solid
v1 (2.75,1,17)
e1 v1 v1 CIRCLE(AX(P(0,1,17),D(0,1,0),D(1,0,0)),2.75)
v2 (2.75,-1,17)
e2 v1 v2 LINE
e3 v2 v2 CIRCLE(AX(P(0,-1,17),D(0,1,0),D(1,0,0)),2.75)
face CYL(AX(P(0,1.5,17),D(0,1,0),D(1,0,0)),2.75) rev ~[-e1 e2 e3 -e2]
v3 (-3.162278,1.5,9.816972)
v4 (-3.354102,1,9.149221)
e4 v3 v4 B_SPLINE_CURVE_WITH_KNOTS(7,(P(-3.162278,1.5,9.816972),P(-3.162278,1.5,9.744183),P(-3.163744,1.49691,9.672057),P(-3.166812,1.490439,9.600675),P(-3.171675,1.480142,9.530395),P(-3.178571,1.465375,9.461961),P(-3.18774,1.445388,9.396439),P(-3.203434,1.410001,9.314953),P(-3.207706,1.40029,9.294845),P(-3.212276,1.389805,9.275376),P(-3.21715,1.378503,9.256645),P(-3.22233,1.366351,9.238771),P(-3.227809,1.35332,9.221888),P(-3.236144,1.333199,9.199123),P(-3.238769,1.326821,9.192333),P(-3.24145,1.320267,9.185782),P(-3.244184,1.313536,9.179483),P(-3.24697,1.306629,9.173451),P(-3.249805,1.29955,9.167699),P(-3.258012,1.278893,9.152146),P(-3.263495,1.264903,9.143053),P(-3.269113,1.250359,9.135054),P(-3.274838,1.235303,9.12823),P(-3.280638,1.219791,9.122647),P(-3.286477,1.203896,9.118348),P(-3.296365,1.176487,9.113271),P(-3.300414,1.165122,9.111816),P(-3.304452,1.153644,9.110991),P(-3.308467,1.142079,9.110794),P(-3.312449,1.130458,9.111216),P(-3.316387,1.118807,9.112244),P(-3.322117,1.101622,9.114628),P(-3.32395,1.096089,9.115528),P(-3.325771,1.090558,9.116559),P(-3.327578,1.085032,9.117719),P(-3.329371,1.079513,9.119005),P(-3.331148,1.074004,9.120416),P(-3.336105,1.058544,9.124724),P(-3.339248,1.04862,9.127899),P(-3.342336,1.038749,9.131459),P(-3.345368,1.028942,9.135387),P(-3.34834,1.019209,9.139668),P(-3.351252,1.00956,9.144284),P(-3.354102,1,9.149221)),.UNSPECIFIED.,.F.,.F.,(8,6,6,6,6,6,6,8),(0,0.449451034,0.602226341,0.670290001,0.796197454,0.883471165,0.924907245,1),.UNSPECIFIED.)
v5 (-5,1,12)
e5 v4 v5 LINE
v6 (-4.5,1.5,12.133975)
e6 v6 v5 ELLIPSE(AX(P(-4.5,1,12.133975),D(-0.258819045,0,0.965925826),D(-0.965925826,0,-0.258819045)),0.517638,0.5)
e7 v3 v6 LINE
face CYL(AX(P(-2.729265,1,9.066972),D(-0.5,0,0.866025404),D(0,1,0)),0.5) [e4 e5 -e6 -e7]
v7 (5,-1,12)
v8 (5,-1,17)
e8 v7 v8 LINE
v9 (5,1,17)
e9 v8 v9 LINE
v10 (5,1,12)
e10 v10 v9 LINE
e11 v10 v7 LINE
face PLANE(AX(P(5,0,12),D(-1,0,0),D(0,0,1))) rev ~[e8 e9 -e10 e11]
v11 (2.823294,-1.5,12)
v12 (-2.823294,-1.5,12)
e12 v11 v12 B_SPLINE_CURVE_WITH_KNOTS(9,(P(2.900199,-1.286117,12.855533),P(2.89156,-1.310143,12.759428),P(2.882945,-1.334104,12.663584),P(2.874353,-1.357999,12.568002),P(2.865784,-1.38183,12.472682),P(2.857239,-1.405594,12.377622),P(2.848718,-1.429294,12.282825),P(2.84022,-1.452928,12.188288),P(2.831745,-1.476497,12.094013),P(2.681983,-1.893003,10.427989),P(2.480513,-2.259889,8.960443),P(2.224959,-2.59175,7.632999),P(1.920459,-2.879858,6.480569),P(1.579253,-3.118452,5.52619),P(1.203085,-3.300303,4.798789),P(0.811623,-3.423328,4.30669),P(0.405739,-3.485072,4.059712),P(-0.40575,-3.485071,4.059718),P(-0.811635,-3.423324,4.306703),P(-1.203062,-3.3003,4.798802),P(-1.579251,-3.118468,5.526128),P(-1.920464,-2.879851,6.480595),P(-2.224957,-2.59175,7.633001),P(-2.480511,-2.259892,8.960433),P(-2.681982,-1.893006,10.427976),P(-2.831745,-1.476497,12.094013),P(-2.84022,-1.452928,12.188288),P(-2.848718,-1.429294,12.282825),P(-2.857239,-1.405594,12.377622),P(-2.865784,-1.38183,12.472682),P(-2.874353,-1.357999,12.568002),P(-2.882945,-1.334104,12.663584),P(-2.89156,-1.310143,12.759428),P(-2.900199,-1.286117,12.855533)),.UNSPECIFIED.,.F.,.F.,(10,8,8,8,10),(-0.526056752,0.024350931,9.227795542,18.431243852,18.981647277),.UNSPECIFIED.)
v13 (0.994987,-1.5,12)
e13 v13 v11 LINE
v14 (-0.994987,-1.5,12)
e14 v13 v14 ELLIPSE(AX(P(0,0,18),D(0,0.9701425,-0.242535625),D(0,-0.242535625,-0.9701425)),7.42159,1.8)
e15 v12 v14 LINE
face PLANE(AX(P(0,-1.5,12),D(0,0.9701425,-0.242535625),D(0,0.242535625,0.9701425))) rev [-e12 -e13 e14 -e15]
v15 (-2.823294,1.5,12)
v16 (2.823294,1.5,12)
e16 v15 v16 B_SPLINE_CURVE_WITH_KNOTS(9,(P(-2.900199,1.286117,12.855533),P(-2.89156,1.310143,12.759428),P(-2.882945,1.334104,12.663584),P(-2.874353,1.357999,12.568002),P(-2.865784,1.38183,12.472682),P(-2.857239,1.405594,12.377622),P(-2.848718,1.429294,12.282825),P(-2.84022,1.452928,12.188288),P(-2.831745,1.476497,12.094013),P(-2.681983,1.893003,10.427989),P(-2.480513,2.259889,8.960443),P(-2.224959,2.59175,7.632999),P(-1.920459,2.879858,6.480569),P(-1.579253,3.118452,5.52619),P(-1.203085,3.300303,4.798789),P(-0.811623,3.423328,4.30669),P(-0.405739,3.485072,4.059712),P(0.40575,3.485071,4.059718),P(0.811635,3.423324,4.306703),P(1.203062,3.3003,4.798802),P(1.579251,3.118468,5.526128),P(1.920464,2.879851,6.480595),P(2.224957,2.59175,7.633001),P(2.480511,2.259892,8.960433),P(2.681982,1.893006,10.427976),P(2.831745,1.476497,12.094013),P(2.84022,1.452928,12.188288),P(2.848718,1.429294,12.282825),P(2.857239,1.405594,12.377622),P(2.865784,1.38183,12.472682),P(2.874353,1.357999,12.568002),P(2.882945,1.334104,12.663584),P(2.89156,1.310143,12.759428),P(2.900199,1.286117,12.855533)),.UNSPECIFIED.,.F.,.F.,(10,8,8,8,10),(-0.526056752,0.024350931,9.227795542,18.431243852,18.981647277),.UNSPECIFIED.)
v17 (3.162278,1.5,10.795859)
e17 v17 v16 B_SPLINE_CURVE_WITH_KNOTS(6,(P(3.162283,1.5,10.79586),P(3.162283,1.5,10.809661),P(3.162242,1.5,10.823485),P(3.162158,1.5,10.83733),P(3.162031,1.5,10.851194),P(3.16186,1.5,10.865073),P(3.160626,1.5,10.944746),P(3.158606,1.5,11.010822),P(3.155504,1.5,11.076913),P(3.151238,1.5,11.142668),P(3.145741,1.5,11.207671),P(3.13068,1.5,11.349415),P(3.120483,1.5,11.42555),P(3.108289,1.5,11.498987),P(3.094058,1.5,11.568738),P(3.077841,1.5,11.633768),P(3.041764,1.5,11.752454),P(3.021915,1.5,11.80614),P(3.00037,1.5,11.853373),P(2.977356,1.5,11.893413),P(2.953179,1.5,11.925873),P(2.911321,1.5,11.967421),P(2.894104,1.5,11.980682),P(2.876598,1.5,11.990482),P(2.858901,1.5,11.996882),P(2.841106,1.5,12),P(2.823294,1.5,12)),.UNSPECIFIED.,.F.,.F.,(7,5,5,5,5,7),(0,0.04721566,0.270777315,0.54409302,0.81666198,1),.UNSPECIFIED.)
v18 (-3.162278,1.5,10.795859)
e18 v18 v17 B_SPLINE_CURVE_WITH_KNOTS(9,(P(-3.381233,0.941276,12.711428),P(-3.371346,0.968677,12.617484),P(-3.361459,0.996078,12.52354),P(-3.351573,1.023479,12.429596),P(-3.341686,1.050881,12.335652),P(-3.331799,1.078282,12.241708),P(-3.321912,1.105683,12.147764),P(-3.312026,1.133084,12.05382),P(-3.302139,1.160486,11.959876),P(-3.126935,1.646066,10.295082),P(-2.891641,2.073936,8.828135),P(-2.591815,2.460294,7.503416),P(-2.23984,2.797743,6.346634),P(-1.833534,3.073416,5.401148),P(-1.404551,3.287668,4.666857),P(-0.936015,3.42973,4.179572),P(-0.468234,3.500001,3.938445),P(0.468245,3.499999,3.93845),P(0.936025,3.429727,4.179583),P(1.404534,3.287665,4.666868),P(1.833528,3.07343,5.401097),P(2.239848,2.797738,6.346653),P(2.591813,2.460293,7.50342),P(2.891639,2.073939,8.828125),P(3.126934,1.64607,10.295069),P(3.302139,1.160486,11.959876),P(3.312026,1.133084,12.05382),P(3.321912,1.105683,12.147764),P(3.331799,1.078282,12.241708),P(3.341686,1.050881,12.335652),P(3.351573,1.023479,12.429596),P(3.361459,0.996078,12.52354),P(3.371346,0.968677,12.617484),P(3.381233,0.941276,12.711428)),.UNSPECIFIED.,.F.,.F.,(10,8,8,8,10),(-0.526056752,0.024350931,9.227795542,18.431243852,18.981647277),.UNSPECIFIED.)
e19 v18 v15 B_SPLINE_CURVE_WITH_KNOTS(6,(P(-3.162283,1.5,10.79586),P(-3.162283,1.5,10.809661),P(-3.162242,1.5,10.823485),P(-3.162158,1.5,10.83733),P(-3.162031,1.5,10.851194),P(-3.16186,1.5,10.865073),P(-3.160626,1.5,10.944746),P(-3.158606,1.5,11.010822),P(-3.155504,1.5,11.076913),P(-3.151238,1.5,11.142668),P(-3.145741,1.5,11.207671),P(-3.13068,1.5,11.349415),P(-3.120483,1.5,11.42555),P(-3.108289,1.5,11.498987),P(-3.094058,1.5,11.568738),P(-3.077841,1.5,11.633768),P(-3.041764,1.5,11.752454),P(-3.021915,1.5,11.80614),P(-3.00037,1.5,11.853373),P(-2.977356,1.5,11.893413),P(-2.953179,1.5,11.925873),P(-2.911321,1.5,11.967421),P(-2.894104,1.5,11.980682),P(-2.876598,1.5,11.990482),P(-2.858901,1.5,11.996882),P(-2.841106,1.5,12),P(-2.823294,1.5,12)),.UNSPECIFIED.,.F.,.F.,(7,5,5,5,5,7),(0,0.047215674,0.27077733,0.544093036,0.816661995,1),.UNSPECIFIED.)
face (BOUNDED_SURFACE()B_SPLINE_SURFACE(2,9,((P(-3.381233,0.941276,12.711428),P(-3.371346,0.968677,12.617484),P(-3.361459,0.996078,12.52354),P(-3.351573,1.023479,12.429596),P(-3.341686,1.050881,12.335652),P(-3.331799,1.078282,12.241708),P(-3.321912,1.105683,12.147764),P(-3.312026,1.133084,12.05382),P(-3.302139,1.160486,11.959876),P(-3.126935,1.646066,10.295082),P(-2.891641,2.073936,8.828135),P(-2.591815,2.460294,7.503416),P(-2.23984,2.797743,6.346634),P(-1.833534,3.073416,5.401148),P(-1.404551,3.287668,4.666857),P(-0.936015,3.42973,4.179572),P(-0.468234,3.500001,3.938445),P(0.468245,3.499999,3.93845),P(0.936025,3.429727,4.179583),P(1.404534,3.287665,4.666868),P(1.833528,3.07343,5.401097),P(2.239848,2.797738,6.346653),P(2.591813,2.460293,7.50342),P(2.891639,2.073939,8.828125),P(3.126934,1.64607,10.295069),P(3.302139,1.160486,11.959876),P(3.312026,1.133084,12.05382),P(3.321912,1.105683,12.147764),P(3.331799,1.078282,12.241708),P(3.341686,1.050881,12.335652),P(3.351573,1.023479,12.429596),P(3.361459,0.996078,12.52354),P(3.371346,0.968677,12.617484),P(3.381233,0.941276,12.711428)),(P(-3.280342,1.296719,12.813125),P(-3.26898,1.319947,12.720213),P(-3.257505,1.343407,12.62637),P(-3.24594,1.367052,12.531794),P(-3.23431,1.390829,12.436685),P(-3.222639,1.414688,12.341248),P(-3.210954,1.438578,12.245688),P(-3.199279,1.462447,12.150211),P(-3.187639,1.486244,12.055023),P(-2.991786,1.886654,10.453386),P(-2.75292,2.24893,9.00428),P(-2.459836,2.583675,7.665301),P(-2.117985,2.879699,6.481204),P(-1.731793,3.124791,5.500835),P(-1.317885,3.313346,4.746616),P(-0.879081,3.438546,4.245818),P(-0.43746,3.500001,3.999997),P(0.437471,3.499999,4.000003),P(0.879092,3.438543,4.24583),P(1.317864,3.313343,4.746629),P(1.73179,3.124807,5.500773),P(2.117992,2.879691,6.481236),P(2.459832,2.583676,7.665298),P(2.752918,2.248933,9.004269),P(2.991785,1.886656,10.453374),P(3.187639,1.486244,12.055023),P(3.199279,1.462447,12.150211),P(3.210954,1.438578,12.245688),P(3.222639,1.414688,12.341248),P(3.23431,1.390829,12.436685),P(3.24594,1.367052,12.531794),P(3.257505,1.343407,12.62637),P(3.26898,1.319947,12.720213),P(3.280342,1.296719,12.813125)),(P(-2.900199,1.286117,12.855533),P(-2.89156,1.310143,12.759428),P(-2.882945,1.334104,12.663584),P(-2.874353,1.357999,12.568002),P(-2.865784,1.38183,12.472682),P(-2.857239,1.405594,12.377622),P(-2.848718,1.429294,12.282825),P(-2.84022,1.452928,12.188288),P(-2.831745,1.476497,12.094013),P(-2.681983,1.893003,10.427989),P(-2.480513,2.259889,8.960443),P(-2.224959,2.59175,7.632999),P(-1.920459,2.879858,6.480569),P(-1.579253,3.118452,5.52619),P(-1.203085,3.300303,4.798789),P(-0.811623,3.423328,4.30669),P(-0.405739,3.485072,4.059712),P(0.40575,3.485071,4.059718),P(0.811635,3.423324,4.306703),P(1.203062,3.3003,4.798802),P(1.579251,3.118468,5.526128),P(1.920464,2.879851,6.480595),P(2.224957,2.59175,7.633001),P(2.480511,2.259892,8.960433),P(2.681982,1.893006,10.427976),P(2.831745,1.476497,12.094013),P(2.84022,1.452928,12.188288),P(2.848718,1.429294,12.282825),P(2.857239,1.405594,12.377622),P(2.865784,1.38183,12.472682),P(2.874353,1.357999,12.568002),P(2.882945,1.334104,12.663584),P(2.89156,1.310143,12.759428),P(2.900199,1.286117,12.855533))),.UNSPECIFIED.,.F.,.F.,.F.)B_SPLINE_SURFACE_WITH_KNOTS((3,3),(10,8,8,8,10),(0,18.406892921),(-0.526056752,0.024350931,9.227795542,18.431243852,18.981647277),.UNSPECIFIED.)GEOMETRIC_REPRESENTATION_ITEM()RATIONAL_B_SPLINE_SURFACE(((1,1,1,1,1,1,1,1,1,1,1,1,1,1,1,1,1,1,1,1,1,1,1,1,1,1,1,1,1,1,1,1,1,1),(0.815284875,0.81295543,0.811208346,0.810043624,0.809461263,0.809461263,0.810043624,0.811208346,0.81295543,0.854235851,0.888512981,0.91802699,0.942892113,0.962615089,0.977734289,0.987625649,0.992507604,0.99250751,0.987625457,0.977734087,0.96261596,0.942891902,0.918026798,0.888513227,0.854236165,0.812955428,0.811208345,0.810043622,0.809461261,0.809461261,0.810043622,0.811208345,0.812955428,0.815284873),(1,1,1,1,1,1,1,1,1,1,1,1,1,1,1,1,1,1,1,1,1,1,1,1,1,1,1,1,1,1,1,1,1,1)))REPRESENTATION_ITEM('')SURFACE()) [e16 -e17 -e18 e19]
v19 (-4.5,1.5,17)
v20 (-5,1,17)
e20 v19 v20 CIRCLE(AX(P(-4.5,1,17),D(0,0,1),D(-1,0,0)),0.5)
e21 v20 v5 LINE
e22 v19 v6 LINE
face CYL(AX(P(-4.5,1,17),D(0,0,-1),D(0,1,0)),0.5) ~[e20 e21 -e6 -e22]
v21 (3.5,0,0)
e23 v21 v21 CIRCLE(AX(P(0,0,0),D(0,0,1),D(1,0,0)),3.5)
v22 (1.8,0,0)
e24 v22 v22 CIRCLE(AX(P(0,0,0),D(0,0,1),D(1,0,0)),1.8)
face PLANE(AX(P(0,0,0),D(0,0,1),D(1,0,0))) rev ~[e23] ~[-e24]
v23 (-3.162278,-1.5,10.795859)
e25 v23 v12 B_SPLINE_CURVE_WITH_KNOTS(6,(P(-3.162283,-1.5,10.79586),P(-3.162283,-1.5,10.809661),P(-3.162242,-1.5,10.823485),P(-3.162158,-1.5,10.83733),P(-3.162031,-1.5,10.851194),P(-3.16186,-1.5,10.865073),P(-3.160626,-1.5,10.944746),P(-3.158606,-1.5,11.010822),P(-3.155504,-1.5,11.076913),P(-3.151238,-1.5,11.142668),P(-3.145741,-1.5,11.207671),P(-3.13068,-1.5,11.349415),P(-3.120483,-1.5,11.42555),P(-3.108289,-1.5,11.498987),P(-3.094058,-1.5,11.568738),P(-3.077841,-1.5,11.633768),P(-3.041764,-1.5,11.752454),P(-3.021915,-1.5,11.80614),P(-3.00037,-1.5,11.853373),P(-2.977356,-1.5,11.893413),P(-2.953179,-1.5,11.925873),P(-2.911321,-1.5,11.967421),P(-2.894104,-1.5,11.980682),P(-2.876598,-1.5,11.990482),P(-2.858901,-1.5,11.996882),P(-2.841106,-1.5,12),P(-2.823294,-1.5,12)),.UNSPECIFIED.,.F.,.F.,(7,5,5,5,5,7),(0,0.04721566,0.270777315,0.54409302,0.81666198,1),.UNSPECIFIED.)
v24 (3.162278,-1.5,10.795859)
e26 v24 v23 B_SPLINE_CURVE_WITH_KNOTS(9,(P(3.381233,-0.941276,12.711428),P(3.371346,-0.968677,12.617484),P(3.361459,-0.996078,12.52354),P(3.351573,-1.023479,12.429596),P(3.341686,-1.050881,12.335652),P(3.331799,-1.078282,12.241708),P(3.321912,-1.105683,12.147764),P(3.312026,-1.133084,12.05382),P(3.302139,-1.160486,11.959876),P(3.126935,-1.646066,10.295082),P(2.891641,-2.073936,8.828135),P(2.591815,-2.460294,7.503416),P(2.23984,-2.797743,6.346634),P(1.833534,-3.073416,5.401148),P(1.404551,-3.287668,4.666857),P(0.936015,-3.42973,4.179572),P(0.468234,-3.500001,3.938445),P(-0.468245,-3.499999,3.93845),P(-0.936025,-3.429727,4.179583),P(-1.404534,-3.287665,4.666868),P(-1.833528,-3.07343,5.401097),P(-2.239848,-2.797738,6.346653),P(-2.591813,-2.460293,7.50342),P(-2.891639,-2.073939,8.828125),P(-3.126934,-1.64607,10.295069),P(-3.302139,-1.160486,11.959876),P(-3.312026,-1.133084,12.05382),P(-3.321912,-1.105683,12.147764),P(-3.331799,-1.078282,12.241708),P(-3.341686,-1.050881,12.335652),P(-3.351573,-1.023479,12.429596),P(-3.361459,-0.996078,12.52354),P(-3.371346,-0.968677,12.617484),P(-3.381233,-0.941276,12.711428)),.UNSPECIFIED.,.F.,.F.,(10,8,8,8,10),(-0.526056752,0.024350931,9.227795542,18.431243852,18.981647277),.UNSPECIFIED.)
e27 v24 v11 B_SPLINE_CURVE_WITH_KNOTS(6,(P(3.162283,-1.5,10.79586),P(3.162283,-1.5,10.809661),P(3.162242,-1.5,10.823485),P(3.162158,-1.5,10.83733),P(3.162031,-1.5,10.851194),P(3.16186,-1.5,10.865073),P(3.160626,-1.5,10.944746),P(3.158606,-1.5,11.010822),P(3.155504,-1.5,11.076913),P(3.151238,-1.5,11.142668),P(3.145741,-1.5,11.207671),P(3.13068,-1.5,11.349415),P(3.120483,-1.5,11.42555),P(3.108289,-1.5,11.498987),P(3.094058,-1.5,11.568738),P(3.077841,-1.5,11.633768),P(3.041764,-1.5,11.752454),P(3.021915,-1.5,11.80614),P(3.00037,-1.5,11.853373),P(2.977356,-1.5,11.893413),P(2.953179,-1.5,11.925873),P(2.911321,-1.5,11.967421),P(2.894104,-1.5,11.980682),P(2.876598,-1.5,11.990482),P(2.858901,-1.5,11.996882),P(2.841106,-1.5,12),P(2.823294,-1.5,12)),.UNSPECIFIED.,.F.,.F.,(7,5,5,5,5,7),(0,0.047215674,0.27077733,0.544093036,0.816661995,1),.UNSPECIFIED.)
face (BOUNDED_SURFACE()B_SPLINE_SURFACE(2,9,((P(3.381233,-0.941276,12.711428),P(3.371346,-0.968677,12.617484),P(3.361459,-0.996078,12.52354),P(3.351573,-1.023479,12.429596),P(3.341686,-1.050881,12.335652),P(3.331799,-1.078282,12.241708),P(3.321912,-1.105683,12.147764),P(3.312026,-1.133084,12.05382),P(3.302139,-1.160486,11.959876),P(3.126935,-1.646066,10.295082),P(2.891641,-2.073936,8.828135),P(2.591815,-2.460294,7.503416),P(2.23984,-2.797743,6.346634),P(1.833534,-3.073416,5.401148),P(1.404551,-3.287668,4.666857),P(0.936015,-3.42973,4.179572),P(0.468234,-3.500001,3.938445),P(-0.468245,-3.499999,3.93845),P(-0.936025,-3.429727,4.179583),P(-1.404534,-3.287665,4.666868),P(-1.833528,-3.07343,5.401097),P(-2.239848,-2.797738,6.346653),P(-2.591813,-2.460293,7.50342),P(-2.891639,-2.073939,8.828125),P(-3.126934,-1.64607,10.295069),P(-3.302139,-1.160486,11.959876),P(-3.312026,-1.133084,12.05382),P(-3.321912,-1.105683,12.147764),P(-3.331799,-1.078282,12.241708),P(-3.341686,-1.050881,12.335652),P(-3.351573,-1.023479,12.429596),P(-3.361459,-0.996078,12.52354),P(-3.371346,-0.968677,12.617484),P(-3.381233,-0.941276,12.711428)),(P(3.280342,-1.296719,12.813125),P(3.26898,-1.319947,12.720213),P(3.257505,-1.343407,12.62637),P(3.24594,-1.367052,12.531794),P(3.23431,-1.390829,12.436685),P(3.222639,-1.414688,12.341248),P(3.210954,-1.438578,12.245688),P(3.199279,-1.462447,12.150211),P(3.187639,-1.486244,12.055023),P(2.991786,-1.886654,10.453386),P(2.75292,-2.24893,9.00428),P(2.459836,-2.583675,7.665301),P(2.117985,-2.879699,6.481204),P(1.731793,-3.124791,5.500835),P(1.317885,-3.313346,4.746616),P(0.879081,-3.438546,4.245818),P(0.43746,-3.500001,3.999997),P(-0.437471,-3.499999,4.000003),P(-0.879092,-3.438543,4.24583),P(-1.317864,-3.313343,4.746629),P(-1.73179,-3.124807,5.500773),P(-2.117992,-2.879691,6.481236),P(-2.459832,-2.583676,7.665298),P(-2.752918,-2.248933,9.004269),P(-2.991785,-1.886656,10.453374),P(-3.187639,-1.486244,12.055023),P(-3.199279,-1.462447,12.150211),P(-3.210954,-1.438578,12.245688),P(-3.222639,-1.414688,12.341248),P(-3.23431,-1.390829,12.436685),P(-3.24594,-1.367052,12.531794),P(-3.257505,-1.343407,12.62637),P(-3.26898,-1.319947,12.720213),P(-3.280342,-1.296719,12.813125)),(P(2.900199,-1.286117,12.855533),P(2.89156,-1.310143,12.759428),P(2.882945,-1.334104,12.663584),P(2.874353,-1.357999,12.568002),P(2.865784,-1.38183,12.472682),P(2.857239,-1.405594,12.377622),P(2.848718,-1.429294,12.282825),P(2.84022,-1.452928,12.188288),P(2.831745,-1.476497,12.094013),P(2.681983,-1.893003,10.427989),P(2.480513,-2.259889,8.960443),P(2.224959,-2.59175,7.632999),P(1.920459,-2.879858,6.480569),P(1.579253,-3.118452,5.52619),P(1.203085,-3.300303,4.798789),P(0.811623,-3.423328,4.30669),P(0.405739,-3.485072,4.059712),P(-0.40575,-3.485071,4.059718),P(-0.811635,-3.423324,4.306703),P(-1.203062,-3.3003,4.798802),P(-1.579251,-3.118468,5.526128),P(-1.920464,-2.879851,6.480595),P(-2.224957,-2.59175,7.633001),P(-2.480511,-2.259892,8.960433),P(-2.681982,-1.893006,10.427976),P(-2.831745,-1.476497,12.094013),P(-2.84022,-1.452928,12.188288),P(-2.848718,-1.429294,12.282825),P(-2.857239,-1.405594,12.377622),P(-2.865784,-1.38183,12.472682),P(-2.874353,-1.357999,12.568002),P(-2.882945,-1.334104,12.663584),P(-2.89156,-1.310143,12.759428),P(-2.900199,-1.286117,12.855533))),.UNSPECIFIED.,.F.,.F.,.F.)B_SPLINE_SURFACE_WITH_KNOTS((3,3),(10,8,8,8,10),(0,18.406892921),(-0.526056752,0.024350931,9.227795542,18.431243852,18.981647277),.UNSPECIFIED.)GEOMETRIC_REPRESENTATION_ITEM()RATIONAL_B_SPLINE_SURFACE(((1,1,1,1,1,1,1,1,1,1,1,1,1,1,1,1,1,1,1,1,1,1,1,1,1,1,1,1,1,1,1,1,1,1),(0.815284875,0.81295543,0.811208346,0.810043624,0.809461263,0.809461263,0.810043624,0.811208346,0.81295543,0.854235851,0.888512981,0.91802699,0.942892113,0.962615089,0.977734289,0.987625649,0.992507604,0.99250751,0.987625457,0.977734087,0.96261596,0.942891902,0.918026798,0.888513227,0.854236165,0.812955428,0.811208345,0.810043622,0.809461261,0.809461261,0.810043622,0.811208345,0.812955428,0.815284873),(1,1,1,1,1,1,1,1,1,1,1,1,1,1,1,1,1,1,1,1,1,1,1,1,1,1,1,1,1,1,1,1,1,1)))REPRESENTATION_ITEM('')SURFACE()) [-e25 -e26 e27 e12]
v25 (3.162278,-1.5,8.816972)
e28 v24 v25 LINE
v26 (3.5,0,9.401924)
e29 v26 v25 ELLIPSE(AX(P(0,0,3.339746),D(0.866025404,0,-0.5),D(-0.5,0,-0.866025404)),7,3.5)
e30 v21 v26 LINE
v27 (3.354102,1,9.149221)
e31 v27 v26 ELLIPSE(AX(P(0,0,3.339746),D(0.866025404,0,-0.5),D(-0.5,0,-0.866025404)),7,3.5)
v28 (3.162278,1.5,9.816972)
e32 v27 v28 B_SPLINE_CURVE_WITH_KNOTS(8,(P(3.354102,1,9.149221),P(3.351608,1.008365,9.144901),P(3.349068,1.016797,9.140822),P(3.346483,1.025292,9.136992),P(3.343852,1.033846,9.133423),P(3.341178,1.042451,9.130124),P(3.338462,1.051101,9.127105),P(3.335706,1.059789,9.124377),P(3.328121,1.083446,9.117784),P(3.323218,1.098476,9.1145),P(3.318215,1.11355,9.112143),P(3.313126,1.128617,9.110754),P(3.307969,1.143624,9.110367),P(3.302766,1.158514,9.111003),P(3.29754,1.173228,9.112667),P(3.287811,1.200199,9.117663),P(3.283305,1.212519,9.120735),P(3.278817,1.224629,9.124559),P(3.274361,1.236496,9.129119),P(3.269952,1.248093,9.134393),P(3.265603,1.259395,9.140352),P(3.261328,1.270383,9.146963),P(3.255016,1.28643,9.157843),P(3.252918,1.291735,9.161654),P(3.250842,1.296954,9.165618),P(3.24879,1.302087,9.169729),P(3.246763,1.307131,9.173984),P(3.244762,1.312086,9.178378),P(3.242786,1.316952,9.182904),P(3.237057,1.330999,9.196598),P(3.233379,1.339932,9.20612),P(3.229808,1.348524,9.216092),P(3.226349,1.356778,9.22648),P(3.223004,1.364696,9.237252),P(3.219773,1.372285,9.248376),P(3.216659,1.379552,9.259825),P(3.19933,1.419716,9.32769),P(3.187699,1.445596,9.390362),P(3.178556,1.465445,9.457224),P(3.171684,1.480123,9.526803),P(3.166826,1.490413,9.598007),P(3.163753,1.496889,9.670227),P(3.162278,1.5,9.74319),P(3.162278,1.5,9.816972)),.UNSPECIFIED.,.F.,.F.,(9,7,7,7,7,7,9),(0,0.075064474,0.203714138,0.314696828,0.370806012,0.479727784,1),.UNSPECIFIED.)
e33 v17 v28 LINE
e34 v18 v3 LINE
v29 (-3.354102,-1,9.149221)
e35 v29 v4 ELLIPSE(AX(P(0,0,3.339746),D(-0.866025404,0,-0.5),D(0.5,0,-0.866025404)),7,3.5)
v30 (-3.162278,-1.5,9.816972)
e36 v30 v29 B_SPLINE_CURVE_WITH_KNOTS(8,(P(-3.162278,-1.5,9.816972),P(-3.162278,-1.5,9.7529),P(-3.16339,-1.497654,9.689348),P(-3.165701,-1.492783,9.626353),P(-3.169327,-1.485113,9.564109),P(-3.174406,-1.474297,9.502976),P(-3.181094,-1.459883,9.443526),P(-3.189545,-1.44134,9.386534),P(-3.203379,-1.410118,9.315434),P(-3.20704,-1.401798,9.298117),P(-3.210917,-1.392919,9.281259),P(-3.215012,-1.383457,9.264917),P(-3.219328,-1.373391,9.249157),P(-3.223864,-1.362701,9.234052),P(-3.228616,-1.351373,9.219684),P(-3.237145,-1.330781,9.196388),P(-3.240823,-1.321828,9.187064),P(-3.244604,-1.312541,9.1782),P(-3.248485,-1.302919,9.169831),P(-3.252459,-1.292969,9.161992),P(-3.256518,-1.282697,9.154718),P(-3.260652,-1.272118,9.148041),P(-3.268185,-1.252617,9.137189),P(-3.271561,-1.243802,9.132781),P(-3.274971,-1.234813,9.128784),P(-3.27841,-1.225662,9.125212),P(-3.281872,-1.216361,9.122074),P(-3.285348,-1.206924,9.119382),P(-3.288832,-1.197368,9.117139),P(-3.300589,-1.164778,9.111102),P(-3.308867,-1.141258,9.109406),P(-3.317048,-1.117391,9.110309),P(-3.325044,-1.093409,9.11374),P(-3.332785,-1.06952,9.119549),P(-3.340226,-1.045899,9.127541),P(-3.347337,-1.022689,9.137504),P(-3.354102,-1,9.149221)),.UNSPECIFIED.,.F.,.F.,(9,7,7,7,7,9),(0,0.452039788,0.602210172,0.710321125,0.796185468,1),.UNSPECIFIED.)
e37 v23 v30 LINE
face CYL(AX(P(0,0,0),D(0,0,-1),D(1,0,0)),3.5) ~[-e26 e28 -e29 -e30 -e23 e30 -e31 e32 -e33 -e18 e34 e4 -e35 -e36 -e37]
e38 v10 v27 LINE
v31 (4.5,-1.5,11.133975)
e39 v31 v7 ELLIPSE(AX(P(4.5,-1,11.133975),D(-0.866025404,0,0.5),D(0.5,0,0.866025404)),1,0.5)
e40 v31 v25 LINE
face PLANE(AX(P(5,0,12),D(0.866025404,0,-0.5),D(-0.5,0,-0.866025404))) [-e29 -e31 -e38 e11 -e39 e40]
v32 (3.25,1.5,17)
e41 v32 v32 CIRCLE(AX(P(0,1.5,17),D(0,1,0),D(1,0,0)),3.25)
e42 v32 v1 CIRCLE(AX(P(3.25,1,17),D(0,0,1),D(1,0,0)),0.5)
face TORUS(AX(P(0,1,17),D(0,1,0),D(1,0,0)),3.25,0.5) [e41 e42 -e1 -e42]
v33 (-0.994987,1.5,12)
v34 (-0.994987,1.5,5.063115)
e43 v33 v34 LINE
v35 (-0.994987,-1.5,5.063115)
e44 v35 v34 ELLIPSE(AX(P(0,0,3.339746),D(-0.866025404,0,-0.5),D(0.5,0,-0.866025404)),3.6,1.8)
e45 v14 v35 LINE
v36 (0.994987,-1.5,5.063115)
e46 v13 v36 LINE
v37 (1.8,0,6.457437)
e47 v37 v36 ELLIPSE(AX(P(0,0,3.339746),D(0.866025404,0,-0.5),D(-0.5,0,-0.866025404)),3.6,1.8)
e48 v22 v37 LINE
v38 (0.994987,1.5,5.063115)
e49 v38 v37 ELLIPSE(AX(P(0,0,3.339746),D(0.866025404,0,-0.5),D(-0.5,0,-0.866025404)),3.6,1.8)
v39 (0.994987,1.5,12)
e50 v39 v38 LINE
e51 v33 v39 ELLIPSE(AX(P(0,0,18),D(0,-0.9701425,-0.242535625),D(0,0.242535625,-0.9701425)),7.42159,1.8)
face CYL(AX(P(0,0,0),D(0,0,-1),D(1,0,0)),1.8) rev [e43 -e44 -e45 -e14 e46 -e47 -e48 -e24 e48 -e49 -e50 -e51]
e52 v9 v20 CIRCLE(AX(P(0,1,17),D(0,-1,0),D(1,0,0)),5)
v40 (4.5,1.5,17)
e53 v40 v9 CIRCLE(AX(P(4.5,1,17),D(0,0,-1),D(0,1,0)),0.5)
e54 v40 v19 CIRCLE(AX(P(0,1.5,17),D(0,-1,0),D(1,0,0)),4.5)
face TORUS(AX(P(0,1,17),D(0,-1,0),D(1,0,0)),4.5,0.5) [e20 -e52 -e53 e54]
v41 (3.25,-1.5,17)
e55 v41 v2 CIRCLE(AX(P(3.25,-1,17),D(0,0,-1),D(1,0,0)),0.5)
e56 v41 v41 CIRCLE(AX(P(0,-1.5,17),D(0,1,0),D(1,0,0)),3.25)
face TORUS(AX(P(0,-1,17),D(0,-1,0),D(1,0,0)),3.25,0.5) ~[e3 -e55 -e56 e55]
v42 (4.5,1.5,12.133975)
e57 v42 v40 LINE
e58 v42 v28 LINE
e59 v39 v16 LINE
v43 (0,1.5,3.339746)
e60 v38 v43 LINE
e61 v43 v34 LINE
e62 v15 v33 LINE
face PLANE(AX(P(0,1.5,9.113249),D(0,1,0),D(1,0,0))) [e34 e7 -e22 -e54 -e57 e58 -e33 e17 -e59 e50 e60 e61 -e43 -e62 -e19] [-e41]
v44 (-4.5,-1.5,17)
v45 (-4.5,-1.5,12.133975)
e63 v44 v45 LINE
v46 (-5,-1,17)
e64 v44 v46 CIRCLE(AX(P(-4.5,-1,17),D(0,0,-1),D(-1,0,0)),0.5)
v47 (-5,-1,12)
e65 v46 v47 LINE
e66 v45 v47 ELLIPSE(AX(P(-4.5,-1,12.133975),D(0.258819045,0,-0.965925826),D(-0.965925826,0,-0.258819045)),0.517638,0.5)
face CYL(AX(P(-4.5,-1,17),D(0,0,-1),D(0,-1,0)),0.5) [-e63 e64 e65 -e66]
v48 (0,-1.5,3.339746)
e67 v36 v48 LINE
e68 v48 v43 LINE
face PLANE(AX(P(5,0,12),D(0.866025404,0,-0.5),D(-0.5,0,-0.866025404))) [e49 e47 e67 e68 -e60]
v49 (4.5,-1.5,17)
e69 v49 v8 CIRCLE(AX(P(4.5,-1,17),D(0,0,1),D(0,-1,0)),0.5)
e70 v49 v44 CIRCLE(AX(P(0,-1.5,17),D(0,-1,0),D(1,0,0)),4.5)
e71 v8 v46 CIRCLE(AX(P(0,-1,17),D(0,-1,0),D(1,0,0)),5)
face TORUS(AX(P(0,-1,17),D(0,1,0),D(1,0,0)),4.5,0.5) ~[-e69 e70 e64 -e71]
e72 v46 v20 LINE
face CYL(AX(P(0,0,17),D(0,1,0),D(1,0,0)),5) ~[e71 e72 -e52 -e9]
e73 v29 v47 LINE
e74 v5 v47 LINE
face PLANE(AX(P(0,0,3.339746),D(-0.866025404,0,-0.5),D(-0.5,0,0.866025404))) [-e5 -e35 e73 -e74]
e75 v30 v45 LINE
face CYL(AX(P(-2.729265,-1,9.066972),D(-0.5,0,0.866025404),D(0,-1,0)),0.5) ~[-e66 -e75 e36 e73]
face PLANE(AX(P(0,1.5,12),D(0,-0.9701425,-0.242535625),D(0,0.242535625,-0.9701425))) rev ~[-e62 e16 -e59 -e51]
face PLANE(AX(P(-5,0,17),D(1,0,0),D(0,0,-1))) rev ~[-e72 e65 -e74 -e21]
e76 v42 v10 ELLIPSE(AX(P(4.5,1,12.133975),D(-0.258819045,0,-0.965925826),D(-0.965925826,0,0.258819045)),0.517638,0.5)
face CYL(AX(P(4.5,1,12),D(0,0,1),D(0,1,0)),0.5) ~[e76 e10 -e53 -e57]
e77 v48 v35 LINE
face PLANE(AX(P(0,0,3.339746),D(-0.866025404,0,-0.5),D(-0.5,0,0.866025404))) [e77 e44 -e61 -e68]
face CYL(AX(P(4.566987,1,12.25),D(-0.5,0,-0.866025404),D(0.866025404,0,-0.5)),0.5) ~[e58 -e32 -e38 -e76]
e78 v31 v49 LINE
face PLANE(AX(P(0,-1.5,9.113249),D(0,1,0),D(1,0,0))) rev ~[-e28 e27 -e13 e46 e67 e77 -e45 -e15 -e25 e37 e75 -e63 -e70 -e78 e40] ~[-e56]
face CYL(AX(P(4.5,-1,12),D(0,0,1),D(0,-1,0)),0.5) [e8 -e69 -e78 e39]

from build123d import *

# Parameters (mm, degrees)
SKETCH1_R           = 3.5
SKETCH1_R_2         = 1.8
BOSS_EXTRUDE1_DEPTH = 12
BOSS_EXTRUDE2_DEPTH = 1.5
BOSS_EXTRUDE3_DEPTH = 1.5
CUT_EXTRUDE1_DEPTH  = 5
SKETCH6_R           = 2.75
CUT_EXTRUDE2_DEPTH  = 6
FILLET1_R           = 0.5


with BuildPart() as part:
    # Sketch1 → Boss-Extrude1 (new body)
    with BuildSketch(Plane.XY):
        Circle(SKETCH1_R)
        Circle(SKETCH1_R_2, mode=Mode.SUBTRACT)
    extrude(amount=BOSS_EXTRUDE1_DEPTH)

    # Sketch2 → Boss-Extrude2 (add, symmetric)
    with BuildSketch(Plane(origin=(0, 0, 0), x_dir=(1, 0, 0), z_dir=(0, 1, 0))):
        with BuildLine():
            Line((-5, -17), (-5, -12))
            Line((-5, -12), (5, -12))
            Line((5, -12), (5, -17))
            ThreePointArc((5, -17), (0, -22), (-5, -17))
        make_face()
    extrude(amount=BOSS_EXTRUDE2_DEPTH, both=True)

    # Sketch3 → Boss-Extrude3 (add, symmetric)
    with BuildSketch(Plane(origin=(0, 0, 0), x_dir=(1, 0, 0), z_dir=(0, 1, 0))):
        Polygon((5, -12), (0, -3.339745962), (-5, -12), align=None)
    extrude(amount=BOSS_EXTRUDE3_DEPTH, both=True)

    # Sketch5 → Cut-Extrude1 (cut, symmetric)
    with BuildSketch(Plane(origin=(0, 0, 0), x_dir=(0, 0, -1), z_dir=(1, 0, 0))):
        Polygon((-12, 1.5), (-4, 3.5), (-12, 3.5), align=None)
    cut_extrude1 = extrude(amount=CUT_EXTRUDE1_DEPTH, both=True, mode=Mode.SUBTRACT)

    # Mirror1: Cut-Extrude1 across plane
    add(cut_extrude1.mirror(Plane.ZX), mode=Mode.SUBTRACT)

    # Sketch6 → Cut-Extrude2 (cut, through all)
    with BuildSketch(Plane(origin=(0, 1.5, 0), x_dir=(1, 0, 0), z_dir=(0, 1, 0))):
        with Locations((0, -17)):
            Circle(SKETCH6_R)
    extrude(amount=-CUT_EXTRUDE2_DEPTH, mode=Mode.SUBTRACT)

    # Fillet1
    fillet1_edges = [part.edges().sort_by_distance(p)[0] for p in [
        (-5, -1.5, 14.5),
        (0, -1.5, 22),
        (-5, 1.5, 14.5),
        (5, 1.5, 14.5),
        (-2.342808298, 2.600240235, 7.599039061),
        (2.342808298, -2.600240235, 7.599039061),
        (-4.08113883, 1.5, 10.408485769),
        (-4.08113883, -1.5, 10.408485769),
        (5, -1.5, 14.5),
        (-2.75, -1.5, 17),
        (-2.75, 1.5, 17),
        (4.08113883, 1.5, 10.408485769),
        (0, 1.5, 22),
    ]]
    fillet(fillet1_edges, radius=FILLET1_R)


solid = part.part
